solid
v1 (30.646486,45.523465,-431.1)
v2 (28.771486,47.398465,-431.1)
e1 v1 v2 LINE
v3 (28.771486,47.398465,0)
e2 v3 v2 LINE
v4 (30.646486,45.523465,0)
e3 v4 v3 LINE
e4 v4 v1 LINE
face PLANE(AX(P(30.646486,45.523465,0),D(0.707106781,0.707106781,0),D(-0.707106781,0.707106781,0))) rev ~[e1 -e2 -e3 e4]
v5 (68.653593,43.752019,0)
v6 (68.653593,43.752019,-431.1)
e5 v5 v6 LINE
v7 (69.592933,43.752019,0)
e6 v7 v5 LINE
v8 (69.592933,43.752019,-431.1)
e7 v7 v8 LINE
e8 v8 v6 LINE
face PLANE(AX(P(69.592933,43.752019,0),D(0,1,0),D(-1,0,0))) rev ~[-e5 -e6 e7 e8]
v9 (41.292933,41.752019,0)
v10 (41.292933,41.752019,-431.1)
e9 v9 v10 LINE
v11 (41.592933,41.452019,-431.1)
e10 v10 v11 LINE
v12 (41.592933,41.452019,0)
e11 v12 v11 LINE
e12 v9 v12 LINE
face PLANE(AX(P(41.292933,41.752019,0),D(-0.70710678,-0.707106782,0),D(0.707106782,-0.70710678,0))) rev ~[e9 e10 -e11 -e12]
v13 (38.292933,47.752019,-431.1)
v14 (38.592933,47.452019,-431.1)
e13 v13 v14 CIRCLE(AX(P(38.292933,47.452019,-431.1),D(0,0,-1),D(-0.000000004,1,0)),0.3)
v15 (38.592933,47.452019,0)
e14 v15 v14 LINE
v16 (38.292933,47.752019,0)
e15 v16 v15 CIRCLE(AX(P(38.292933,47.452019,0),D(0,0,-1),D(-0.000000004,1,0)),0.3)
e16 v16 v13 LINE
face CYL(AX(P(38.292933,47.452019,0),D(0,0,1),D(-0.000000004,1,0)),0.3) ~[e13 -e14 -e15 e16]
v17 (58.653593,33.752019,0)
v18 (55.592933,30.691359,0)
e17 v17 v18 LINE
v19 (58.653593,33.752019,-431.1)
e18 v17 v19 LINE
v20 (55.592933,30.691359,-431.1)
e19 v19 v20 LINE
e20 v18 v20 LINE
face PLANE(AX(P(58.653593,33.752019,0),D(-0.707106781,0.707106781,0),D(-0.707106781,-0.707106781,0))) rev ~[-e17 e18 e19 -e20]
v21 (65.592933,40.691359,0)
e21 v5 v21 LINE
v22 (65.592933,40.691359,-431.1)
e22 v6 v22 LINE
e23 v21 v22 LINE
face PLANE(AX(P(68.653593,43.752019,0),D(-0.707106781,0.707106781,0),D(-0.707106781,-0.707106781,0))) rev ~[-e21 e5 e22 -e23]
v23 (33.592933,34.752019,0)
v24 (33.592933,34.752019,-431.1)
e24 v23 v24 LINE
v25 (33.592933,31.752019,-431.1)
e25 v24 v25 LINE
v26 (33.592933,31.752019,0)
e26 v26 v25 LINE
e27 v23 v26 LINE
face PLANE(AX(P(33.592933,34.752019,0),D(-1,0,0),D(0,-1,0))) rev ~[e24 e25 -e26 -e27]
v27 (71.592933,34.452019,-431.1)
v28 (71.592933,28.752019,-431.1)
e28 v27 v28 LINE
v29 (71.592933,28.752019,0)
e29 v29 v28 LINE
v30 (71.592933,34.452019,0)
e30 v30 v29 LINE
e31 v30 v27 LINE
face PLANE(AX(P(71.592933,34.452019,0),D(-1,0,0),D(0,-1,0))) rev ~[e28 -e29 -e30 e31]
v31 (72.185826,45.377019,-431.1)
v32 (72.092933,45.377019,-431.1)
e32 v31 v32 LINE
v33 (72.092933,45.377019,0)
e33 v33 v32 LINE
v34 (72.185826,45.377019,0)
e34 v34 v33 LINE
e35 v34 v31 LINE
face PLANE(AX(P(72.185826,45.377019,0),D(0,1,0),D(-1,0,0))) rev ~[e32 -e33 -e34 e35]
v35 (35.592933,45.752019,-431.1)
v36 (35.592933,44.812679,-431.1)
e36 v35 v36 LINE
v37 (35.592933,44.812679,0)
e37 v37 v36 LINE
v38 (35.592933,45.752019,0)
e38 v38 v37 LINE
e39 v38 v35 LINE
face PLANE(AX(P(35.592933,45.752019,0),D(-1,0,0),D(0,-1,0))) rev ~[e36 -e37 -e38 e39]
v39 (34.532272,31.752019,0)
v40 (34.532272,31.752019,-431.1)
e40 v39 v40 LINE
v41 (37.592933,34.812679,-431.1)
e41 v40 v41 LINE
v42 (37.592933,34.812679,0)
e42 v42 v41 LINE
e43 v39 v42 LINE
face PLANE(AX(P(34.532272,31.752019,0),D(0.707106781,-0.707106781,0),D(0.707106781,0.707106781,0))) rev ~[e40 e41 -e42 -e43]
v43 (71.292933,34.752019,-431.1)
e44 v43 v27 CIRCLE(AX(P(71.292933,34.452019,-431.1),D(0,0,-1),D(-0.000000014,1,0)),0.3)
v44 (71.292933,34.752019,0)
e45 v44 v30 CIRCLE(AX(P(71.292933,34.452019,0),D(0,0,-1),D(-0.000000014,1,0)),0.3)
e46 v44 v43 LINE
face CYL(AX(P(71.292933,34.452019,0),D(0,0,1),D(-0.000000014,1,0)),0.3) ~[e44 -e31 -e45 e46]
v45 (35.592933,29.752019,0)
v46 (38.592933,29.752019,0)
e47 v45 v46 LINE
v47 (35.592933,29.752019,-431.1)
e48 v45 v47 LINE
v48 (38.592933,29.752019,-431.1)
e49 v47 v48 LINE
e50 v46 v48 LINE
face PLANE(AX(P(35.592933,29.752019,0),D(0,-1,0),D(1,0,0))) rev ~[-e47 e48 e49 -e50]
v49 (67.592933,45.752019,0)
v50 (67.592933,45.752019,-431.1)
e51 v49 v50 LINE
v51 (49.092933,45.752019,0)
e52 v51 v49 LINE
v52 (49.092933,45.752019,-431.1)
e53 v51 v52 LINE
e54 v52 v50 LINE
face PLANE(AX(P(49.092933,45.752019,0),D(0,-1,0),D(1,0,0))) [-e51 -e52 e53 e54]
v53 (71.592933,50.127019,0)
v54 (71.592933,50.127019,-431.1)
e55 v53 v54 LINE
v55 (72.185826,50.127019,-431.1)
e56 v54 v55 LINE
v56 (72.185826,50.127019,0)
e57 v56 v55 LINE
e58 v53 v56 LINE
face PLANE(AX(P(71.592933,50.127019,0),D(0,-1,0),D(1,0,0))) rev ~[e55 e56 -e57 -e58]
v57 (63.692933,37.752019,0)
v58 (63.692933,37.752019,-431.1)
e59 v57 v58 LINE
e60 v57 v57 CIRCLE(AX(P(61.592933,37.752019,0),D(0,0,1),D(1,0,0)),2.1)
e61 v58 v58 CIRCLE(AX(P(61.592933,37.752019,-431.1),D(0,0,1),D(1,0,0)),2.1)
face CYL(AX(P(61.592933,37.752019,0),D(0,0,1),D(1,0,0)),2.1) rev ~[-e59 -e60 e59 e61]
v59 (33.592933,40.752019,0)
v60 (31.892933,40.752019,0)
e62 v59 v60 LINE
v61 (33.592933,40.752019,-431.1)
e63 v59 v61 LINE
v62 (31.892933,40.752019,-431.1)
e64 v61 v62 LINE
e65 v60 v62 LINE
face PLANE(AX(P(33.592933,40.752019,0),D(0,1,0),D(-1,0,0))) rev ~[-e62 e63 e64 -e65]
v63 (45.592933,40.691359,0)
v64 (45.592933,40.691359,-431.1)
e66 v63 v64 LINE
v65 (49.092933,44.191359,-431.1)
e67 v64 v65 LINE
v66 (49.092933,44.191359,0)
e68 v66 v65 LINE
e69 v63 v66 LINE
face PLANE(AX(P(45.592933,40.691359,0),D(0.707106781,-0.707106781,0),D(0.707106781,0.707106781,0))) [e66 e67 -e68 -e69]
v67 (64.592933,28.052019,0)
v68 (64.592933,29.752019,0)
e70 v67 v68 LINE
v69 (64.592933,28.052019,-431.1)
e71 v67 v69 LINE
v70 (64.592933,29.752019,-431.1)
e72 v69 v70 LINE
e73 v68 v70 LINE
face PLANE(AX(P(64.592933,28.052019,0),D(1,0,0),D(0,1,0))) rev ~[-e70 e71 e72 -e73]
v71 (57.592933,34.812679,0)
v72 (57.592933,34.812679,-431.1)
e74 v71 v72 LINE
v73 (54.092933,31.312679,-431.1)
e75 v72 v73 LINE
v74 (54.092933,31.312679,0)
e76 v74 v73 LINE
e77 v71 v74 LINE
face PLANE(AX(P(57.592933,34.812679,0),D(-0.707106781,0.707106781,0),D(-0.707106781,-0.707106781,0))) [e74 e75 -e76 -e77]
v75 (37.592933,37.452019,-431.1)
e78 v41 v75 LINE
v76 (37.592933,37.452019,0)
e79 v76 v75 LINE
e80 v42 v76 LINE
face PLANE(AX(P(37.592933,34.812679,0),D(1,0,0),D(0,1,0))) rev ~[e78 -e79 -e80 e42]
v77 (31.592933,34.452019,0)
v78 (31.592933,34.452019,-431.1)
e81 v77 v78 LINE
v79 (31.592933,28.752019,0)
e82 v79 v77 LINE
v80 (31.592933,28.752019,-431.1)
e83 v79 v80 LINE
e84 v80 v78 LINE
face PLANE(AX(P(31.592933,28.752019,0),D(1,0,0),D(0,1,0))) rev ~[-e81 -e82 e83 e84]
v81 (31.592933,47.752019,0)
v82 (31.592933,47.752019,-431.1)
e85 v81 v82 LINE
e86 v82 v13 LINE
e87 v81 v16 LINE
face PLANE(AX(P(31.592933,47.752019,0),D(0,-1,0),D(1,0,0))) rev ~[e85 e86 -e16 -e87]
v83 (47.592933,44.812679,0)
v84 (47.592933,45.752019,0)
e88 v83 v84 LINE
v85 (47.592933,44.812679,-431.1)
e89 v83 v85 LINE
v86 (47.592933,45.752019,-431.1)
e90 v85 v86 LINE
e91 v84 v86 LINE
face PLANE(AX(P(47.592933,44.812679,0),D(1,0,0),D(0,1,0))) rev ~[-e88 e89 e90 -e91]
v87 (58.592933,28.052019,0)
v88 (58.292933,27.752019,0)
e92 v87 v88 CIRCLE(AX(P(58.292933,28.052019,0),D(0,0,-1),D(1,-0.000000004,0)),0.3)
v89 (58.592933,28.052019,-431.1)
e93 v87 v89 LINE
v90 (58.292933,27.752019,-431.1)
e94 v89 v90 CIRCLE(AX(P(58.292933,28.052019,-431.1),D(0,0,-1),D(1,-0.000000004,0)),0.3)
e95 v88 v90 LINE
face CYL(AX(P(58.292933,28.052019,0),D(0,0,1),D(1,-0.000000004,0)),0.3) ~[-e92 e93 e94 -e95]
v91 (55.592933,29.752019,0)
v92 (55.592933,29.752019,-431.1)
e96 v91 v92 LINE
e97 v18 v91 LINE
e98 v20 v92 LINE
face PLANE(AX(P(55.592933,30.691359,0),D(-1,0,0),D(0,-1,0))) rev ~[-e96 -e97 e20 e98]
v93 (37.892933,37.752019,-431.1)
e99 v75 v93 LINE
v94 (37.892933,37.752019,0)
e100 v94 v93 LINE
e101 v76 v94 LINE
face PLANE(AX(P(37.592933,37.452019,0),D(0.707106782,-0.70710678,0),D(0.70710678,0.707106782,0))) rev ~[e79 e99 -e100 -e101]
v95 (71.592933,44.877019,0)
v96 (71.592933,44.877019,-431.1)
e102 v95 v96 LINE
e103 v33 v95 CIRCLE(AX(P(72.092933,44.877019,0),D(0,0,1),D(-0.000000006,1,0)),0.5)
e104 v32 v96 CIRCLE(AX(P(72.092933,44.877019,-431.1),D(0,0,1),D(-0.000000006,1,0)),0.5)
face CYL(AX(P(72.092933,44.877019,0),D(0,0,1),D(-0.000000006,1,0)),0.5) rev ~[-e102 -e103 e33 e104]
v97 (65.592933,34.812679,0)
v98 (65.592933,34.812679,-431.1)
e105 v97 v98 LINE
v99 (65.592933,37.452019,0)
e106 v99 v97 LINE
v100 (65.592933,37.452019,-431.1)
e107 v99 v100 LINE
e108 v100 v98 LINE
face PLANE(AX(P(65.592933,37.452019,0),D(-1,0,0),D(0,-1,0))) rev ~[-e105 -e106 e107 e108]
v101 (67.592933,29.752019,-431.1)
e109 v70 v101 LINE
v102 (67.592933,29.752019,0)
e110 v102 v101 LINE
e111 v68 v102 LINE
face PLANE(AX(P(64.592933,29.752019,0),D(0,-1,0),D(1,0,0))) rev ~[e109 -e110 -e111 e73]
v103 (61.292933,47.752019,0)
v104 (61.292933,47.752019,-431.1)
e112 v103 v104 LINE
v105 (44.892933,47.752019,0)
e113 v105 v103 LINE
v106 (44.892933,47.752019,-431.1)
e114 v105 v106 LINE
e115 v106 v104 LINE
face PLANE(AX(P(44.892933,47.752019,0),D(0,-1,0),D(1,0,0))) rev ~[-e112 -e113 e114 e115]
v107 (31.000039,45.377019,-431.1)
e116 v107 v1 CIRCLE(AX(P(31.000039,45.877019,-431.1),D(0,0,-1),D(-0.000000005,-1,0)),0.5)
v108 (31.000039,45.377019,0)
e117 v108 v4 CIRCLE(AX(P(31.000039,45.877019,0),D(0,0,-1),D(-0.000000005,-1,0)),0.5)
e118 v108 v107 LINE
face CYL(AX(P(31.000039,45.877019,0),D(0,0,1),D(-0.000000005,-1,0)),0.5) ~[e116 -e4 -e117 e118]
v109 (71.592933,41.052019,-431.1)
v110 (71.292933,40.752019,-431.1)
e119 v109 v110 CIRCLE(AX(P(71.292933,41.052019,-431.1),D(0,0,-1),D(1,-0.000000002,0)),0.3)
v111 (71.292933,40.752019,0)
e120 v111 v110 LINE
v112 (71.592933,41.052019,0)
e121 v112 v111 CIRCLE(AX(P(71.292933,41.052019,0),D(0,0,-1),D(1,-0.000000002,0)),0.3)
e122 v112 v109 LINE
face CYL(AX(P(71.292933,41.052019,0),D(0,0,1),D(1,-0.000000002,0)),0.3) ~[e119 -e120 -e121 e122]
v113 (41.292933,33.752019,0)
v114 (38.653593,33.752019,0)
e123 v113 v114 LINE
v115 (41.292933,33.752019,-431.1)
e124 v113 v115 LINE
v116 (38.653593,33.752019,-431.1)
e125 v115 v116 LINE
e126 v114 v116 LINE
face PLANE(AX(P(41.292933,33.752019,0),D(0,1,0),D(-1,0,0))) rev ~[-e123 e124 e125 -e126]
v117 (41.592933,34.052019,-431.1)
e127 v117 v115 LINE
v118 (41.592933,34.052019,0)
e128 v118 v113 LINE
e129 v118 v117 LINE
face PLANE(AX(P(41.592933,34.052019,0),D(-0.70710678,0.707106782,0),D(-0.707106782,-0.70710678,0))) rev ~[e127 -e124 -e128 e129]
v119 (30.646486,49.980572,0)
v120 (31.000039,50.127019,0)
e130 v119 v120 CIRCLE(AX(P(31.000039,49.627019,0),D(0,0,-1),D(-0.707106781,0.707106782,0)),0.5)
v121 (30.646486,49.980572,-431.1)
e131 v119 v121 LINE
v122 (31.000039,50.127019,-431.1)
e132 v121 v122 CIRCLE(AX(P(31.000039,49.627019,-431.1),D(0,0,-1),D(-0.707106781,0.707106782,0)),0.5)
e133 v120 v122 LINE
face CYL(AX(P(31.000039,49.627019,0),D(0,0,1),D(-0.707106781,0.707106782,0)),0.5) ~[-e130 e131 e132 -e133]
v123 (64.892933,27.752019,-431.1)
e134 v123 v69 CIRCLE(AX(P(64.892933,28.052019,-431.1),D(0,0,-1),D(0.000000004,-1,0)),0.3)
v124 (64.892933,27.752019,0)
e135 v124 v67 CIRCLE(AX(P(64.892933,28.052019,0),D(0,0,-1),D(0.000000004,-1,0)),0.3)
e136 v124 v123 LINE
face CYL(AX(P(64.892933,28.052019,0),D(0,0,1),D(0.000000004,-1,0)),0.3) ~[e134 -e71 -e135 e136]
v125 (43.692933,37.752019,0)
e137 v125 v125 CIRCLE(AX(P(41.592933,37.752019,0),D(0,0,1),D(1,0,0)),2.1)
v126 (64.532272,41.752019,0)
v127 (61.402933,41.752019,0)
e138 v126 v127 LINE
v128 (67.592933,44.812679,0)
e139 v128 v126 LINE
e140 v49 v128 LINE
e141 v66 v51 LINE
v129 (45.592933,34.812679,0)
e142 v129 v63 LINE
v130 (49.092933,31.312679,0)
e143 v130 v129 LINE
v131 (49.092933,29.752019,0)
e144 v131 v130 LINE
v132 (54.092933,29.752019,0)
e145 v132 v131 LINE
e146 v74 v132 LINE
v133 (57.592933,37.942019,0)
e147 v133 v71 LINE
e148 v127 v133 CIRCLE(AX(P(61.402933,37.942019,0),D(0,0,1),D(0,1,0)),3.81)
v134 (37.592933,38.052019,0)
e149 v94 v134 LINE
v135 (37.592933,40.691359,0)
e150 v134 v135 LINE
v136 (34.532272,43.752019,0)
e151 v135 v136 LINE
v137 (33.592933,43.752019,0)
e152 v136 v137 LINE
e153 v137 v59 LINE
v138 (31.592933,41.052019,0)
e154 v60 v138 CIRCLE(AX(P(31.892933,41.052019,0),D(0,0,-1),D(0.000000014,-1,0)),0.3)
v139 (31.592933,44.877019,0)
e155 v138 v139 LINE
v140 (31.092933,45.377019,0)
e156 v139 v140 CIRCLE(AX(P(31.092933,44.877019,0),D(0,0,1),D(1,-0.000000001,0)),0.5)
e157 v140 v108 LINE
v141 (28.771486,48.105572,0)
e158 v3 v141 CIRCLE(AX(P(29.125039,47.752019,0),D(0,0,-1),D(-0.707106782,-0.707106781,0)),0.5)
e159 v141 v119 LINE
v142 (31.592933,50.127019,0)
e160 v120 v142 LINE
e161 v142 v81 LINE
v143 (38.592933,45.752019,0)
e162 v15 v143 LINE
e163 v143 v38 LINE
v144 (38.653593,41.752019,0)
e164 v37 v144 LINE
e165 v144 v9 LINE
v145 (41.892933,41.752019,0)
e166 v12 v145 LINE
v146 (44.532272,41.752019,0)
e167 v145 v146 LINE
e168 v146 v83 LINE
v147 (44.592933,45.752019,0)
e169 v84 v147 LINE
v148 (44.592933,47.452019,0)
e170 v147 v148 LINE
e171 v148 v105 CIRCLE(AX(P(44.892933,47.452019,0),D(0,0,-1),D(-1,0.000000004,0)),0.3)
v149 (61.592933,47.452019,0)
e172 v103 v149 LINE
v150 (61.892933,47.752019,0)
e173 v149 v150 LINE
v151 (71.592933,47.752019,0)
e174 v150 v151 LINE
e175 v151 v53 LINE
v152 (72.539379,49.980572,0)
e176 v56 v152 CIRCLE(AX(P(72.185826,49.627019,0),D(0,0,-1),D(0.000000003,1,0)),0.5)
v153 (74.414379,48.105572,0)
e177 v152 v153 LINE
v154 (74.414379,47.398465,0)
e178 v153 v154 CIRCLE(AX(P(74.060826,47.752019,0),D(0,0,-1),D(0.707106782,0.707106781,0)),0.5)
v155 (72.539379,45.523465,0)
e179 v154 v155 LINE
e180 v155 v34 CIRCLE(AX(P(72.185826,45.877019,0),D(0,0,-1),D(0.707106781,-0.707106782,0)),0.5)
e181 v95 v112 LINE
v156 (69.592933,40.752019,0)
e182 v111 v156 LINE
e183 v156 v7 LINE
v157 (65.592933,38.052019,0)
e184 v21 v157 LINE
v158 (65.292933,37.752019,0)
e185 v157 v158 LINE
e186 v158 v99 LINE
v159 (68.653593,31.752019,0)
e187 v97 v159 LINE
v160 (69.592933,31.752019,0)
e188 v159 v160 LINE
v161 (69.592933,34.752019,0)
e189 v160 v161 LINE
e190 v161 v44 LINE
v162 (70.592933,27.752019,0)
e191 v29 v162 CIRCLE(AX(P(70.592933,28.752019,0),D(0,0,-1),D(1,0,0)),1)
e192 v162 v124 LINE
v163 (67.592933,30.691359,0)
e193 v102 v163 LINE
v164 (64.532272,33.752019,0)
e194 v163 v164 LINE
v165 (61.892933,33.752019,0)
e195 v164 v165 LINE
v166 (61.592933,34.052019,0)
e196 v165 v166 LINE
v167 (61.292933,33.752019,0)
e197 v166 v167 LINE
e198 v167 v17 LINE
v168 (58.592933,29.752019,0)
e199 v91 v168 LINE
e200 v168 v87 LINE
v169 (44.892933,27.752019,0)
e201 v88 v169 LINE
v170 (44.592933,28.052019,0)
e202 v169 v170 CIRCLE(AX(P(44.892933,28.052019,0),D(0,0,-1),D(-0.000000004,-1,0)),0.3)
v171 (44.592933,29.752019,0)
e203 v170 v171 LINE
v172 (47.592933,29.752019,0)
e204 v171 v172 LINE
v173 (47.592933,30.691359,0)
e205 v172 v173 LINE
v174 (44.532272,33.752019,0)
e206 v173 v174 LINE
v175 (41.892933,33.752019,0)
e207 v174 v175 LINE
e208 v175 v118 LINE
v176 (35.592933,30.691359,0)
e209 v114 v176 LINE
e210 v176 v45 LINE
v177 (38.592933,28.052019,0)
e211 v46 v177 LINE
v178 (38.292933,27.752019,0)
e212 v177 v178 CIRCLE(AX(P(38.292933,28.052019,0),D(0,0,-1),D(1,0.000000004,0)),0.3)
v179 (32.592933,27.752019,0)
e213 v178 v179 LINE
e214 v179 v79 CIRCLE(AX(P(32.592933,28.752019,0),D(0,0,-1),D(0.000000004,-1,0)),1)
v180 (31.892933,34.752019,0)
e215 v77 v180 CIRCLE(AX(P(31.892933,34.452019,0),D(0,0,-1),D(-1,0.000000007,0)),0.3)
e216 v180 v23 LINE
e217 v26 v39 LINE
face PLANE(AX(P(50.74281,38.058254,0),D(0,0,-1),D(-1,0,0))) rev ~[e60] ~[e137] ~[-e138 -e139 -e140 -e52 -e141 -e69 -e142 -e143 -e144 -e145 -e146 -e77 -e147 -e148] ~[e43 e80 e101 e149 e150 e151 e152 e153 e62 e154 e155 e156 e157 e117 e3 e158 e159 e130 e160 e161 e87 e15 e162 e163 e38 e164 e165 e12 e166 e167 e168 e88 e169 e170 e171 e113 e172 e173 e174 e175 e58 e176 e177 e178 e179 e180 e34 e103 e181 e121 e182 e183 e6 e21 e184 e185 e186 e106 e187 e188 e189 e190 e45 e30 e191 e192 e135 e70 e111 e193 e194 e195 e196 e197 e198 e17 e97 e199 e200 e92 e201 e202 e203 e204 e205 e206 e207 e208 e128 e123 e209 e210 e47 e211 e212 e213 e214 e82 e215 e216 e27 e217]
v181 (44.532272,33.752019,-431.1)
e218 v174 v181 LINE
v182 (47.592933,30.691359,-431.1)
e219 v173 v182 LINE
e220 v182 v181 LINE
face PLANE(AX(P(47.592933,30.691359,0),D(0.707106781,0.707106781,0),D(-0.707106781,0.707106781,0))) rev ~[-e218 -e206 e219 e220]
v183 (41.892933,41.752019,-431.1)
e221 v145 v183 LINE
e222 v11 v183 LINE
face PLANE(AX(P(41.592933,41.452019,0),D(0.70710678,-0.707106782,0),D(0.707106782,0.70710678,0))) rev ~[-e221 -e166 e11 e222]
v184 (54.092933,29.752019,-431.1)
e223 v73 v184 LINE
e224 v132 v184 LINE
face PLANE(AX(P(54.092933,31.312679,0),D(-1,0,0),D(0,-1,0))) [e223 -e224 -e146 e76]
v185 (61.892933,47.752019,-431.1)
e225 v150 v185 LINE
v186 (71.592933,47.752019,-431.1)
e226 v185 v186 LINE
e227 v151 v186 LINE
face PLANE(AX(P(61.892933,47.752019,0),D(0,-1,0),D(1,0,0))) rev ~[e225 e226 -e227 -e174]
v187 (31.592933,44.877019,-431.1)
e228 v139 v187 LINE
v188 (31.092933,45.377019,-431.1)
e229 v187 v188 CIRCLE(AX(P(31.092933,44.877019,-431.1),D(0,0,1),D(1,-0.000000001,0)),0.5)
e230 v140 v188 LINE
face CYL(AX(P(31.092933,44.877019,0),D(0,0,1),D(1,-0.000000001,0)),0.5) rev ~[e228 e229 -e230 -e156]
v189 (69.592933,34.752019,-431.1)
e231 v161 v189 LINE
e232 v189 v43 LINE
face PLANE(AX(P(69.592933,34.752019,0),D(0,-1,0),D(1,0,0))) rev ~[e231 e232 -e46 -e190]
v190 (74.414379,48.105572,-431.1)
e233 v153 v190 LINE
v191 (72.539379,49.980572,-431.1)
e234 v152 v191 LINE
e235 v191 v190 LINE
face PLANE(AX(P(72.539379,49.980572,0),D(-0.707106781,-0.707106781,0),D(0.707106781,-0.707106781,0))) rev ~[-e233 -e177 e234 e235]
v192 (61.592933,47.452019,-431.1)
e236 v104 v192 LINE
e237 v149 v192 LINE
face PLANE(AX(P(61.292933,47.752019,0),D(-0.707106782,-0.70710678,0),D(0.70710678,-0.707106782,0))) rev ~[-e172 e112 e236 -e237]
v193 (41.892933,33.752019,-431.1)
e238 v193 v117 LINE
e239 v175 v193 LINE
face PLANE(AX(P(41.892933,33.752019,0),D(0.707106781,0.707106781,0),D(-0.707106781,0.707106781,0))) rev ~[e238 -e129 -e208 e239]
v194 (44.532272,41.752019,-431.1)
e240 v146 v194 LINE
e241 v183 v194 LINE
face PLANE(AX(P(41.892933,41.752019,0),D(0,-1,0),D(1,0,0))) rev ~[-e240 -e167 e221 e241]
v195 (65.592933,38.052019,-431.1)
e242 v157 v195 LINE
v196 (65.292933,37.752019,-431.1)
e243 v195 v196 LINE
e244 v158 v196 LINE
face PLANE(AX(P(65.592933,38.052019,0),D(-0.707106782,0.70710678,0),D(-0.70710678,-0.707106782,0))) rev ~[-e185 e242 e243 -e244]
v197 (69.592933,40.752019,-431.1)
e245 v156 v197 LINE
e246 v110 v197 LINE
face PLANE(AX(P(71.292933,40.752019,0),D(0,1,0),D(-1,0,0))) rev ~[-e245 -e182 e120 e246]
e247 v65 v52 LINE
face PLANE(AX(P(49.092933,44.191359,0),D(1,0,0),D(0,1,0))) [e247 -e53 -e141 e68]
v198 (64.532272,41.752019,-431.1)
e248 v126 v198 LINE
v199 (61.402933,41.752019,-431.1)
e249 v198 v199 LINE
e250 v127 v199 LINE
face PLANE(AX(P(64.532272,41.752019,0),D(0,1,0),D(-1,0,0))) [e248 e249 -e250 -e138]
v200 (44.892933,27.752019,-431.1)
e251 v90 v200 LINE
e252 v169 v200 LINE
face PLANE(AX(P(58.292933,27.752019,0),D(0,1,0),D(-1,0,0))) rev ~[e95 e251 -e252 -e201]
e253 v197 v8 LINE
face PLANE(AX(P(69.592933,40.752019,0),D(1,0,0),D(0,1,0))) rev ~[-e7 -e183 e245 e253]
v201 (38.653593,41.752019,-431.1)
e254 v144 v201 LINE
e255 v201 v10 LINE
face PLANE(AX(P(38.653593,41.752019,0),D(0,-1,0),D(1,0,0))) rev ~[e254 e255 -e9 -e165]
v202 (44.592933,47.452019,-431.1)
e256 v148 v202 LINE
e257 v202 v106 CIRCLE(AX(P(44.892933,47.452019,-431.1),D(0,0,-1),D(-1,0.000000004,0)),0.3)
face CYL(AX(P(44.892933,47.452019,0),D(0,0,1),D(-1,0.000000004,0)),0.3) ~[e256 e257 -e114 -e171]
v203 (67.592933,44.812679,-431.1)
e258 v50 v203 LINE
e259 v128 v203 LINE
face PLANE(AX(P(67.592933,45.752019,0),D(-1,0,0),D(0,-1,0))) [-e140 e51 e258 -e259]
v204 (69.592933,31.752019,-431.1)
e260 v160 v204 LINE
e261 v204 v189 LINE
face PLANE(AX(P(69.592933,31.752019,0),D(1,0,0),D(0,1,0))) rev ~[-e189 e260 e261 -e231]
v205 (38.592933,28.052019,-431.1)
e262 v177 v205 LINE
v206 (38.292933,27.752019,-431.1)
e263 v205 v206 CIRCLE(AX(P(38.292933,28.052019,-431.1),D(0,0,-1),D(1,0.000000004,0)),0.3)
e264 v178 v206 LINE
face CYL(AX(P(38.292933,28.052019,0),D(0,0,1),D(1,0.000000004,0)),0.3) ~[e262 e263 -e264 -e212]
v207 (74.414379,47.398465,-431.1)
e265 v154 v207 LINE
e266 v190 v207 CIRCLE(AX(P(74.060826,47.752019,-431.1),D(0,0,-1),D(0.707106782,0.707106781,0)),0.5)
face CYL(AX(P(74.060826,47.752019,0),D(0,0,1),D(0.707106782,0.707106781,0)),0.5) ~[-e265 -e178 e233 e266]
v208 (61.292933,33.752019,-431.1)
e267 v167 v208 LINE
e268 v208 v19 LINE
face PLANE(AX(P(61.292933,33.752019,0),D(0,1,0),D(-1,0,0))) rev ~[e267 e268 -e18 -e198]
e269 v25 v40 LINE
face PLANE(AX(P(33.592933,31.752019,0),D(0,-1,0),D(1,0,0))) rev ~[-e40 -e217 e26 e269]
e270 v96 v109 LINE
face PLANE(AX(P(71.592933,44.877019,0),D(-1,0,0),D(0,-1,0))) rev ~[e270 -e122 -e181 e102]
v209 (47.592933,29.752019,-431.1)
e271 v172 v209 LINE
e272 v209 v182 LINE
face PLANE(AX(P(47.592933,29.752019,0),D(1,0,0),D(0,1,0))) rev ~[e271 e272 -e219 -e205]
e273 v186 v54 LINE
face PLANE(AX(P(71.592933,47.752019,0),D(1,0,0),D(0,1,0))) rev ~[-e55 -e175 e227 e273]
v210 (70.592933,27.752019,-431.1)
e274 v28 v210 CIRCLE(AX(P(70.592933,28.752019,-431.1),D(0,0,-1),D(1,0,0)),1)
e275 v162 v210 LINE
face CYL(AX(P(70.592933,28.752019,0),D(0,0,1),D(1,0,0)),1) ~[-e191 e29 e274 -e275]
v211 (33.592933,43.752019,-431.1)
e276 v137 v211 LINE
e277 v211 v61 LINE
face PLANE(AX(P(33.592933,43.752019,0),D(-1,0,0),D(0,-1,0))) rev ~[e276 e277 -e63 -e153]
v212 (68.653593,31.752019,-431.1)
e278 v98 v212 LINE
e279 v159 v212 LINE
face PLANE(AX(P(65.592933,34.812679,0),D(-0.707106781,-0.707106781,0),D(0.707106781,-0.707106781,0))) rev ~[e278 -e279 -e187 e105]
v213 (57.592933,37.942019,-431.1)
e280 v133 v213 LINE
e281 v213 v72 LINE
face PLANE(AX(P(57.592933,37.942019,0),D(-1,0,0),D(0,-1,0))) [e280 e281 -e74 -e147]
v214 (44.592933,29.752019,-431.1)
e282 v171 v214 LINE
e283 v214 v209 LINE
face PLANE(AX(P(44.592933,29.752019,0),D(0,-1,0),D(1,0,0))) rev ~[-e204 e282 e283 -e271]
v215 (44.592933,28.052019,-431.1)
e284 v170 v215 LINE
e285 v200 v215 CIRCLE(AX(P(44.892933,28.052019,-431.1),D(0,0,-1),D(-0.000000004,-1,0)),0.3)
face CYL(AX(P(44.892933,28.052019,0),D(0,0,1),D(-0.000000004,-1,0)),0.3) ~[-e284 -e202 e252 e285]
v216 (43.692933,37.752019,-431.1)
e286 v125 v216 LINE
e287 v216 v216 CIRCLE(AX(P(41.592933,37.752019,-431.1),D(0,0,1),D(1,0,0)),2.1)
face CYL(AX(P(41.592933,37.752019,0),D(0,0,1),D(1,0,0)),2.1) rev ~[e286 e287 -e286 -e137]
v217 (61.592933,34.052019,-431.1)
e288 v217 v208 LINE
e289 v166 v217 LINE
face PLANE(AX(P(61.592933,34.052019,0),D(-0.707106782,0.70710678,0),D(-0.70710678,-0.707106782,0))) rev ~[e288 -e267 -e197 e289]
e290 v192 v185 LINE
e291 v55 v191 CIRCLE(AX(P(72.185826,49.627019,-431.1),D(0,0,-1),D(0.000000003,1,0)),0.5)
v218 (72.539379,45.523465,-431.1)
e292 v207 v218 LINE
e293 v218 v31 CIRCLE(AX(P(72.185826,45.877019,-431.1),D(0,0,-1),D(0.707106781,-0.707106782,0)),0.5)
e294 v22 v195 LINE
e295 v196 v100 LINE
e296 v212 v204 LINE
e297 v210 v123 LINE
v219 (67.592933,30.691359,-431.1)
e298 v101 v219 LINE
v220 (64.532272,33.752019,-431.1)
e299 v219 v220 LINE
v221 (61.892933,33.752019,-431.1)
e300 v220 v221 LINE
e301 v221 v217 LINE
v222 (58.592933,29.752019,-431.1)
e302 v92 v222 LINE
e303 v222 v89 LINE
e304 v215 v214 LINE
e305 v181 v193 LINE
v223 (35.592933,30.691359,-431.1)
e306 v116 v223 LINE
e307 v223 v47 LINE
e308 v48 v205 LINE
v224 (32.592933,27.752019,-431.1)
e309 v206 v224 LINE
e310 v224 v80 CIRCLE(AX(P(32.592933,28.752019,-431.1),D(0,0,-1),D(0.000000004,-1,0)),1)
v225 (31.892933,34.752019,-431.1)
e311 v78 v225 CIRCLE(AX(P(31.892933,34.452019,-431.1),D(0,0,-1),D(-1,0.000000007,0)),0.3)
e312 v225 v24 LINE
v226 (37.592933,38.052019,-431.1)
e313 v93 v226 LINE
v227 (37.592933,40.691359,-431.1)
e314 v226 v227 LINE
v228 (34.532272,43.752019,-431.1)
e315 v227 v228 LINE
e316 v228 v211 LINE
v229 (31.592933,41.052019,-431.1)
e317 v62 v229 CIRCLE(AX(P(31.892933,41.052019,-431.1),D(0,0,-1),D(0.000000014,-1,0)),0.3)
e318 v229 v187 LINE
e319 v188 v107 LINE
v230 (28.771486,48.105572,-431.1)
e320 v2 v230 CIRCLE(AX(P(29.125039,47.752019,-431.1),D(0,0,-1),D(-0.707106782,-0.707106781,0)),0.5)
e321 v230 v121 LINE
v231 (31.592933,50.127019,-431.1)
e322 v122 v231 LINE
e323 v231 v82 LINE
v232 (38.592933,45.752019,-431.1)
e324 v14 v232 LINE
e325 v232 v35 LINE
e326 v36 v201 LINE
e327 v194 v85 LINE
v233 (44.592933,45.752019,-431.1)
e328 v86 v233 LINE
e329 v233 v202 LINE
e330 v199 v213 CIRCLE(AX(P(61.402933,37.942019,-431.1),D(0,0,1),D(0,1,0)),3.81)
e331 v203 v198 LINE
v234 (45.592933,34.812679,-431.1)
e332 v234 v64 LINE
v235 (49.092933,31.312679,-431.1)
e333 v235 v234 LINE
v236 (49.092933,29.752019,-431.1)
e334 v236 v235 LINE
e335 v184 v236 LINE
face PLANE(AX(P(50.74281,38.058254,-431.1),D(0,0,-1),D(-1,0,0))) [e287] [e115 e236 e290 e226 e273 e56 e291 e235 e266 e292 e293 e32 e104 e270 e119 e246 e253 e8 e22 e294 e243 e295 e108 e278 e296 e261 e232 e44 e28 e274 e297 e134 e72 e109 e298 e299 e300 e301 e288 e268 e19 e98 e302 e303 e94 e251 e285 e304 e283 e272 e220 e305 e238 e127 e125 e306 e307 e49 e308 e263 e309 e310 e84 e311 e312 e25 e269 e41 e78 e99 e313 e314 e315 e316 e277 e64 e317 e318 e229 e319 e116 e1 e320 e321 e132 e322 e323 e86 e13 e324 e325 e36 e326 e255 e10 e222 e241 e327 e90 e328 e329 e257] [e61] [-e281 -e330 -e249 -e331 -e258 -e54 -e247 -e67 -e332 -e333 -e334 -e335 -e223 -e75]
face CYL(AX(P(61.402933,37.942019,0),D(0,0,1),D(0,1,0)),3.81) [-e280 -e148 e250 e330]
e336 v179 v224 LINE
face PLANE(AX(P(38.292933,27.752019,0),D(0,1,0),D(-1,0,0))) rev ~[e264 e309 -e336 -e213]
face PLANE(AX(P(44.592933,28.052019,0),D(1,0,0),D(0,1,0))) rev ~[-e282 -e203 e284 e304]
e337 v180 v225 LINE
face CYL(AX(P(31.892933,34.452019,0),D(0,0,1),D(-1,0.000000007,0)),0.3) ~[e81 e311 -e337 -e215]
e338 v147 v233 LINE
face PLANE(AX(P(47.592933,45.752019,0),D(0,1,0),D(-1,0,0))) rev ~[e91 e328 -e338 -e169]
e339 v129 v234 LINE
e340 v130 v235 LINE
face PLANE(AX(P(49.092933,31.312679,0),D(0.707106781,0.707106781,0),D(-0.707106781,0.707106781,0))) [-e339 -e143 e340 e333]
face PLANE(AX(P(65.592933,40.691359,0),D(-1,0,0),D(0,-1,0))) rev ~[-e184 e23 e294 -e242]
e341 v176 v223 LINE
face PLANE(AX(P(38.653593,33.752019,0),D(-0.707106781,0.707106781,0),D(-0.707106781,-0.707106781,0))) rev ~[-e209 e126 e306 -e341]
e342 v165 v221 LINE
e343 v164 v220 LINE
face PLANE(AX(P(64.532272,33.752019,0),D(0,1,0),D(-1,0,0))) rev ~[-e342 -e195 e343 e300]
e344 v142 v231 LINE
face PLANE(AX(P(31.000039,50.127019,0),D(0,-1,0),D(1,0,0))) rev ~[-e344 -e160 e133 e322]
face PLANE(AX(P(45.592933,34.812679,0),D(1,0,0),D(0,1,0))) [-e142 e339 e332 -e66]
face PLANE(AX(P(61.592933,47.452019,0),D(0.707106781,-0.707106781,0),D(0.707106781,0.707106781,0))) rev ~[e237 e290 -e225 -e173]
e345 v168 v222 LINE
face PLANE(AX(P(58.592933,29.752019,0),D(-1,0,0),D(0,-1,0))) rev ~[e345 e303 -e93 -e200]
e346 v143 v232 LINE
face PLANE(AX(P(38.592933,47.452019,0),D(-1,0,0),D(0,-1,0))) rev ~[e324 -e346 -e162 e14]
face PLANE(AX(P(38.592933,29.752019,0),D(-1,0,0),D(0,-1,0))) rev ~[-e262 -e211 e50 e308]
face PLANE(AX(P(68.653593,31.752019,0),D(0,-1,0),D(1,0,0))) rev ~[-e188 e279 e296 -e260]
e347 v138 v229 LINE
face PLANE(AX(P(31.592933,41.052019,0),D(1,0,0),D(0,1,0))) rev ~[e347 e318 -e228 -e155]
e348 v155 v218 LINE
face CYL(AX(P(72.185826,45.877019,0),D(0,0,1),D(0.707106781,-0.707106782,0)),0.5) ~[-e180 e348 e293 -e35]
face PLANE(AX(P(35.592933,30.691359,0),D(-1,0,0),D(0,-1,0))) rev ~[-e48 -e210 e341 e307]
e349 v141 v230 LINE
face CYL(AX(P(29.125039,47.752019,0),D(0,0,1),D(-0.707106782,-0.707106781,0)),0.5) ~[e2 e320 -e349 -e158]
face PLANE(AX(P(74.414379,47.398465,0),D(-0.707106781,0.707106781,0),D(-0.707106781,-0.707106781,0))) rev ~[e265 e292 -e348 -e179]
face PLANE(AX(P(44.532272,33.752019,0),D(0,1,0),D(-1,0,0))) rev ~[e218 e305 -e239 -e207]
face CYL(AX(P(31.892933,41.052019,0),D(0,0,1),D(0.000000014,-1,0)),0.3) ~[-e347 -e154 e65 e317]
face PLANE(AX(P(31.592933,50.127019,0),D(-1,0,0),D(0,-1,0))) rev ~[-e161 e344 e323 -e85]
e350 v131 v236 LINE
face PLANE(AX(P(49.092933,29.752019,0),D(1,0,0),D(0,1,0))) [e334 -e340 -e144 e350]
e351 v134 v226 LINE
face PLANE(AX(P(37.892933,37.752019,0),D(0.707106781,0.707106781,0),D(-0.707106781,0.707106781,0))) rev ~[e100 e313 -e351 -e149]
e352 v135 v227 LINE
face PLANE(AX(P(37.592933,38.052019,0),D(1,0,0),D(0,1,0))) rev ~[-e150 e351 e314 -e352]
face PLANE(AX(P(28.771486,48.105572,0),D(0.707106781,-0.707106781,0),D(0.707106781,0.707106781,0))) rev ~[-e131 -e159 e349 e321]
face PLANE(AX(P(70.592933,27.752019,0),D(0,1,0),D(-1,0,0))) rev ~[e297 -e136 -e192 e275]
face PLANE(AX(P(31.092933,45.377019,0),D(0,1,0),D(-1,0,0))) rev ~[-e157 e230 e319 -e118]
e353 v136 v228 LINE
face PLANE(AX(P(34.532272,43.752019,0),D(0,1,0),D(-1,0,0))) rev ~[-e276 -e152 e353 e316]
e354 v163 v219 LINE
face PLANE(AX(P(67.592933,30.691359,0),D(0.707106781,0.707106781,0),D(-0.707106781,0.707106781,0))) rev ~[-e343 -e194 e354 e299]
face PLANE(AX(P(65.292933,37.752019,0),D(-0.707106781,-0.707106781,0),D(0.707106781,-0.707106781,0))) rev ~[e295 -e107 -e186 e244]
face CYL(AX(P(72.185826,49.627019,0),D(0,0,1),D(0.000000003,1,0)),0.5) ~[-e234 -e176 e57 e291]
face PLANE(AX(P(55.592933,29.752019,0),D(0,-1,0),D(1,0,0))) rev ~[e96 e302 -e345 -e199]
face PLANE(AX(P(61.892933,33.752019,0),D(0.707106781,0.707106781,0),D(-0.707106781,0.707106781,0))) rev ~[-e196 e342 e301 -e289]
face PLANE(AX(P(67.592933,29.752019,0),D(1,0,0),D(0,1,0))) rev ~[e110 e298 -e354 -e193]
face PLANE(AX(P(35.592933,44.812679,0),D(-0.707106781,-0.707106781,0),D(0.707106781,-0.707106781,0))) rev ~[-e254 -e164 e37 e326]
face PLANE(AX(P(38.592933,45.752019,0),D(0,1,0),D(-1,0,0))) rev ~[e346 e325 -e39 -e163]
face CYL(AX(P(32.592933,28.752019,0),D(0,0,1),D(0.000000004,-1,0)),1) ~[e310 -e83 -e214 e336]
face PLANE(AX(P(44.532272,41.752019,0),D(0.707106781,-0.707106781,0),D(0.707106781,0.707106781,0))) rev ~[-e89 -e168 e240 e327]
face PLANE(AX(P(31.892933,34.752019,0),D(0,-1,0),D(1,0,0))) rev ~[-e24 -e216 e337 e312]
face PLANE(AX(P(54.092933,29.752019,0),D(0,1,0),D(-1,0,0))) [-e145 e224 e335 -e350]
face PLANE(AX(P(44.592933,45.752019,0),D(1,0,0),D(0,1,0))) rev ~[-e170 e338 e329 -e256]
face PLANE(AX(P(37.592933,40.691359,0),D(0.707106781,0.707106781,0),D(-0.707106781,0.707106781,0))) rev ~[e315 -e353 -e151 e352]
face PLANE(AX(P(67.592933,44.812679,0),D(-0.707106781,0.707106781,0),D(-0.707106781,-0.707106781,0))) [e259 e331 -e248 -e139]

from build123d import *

# Parameters (mm, degrees)
MODEL_R             = 2.100000001
BOSS_EXTRUDE1_DEPTH = 431.1


with BuildPart() as part:
    # Model → Boss-Extrude1 (new body)
    with BuildSketch(Plane.XY):
        with BuildLine():
            Line((28.771485975, 48.105572105), (30.646485975, 49.980572105))
            ThreePointArc((30.646485975, 49.980572105), (30.808697649, 50.08895848), (31.000039365, 50.127018713))
            Line((31.000039365, 50.127018713), (31.592932584, 50.127018713))
            Line((31.592932584, 50.127018713), (31.592932584, 47.752018713))
            Line((31.592932584, 47.752018713), (38.292932585, 47.752018713))
            ThreePointArc((38.292932585, 47.752018713), (38.505064619, 47.664150748), (38.592932584, 47.452018714))
            Line((38.592932584, 47.452018714), (38.592932584, 45.752018713))
            Line((38.592932584, 45.752018713), (35.592932585, 45.752018713))
            Line((35.592932585, 45.752018713), (35.592932585, 44.812678885))
            Line((35.592932585, 44.812678885), (38.653592756, 41.752018713))
            Line((38.653592756, 41.752018713), (41.292932583, 41.752018713))
            Line((41.292932583, 41.752018713), (41.592932584, 41.452018713))
            Line((41.592932584, 41.452018713), (41.892932586, 41.752018714))
            Line((41.892932586, 41.752018714), (44.532272412, 41.752018714))
            Line((44.532272412, 41.752018714), (47.592932584, 44.812678886))
            Line((47.592932584, 44.812678886), (47.592932584, 45.752018714))
            Line((47.592932584, 45.752018714), (44.592932584, 45.752018714))
            Line((44.592932584, 45.752018714), (44.592932584, 47.452018715))
            ThreePointArc((44.592932584, 47.452018715), (44.68080055, 47.664150749), (44.892932584, 47.752018715))
            Line((44.892932584, 47.752018715), (61.292932583, 47.752018715))
            Line((61.292932583, 47.752018715), (61.592932582, 47.452018715))
            Line((61.592932582, 47.452018715), (61.892932583, 47.752018716))
            Line((61.892932583, 47.752018716), (71.592932583, 47.752018716))
            Line((71.592932583, 47.752018716), (71.592932583, 50.127018711))
            Line((71.592932583, 50.127018711), (72.185825802, 50.127018711))
            ThreePointArc((72.185825802, 50.127018711), (72.377167518, 50.088958477), (72.539379192, 49.980572102))
            Line((72.539379192, 49.980572102), (74.414379192, 48.105572102))
            ThreePointArc((74.414379192, 48.105572102), (74.560825801, 47.752018712), (74.414379192, 47.398465322))
            Line((74.414379192, 47.398465322), (72.539379192, 45.523465322))
            ThreePointArc((72.539379192, 45.523465322), (72.377167518, 45.415078947), (72.185825802, 45.377018714))
            Line((72.185825802, 45.377018714), (72.092932582, 45.377018714))
            ThreePointArc((72.092932582, 45.377018714), (71.739379192, 45.230572103), (71.592932583, 44.877018713))
            Line((71.592932583, 44.877018713), (71.592932583, 41.052018712))
            ThreePointArc((71.592932583, 41.052018712), (71.505064617, 40.839886678), (71.292932581, 40.752018713))
            Line((71.292932581, 40.752018713), (69.592932583, 40.752018713))
            Line((69.592932583, 40.752018713), (69.592932583, 43.752018712))
            Line((69.592932583, 43.752018712), (68.653592755, 43.752018712))
            Line((68.653592755, 43.752018712), (65.592932583, 40.691358541))
            Line((65.592932583, 40.691358541), (65.592932583, 38.052018712))
            Line((65.592932583, 38.052018712), (65.292932584, 37.752018712))
            Line((65.292932584, 37.752018712), (65.592932583, 37.452018713))
            Line((65.592932583, 37.452018713), (65.592932583, 34.812678884))
            Line((65.592932583, 34.812678884), (68.653592755, 31.752018712))
            Line((68.653592755, 31.752018712), (69.592932583, 31.752018712))
            Line((69.592932583, 31.752018712), (69.592932583, 34.752018711))
            Line((69.592932583, 34.752018711), (71.292932581, 34.752018711))
            ThreePointArc((71.292932581, 34.752018711), (71.505064617, 34.664150747), (71.592932583, 34.452018712))
            Line((71.592932583, 34.452018712), (71.592932583, 28.75201871))
            ThreePointArc((71.592932583, 28.75201871), (71.300039364, 28.044911929), (70.592932582, 27.752018711))
            Line((70.592932582, 27.752018711), (64.892932582, 27.752018711))
            ThreePointArc((64.892932582, 27.752018711), (64.680800548, 27.839886676), (64.592932583, 28.05201871))
            Line((64.592932583, 28.05201871), (64.592932583, 29.752018711))
            Line((64.592932583, 29.752018711), (67.592932582, 29.752018711))
            Line((67.592932582, 29.752018711), (67.592932582, 30.69135854))
            Line((67.592932582, 30.69135854), (64.532272411, 33.752018711))
            Line((64.532272411, 33.752018711), (61.892932584, 33.752018711))
            Line((61.892932584, 33.752018711), (61.592932582, 34.052018713))
            Line((61.592932582, 34.052018713), (61.292932582, 33.752018712))
            Line((61.292932582, 33.752018712), (58.653592755, 33.752018712))
            Line((58.653592755, 33.752018712), (55.592932583, 30.691358541))
            Line((55.592932583, 30.691358541), (55.592932583, 29.752018713))
            Line((55.592932583, 29.752018713), (58.592932583, 29.752018713))
            Line((58.592932583, 29.752018713), (58.592932583, 28.052018712))
            ThreePointArc((58.592932583, 28.052018712), (58.505064617, 27.839886678), (58.292932583, 27.752018712))
            Line((58.292932583, 27.752018712), (44.892932584, 27.752018712))
            ThreePointArc((44.892932584, 27.752018712), (44.68080055, 27.839886678), (44.592932584, 28.052018712))
            Line((44.592932584, 28.052018712), (44.592932584, 29.752018713))
            Line((44.592932584, 29.752018713), (47.592932584, 29.752018713))
            Line((47.592932584, 29.752018713), (47.592932584, 30.691358541))
            Line((47.592932584, 30.691358541), (44.532272412, 33.752018712))
            Line((44.532272412, 33.752018712), (41.892932586, 33.752018712))
            Line((41.892932586, 33.752018712), (41.592932584, 34.052018714))
            Line((41.592932584, 34.052018714), (41.292932583, 33.752018714))
            Line((41.292932583, 33.752018714), (38.653592756, 33.752018714))
            Line((38.653592756, 33.752018714), (35.592932585, 30.691358542))
            Line((35.592932585, 30.691358542), (35.592932585, 29.752018714))
            Line((35.592932585, 29.752018714), (38.592932584, 29.752018714))
            Line((38.592932584, 29.752018714), (38.592932584, 28.052018713))
            ThreePointArc((38.592932584, 28.052018713), (38.505064619, 27.839886679), (38.292932585, 27.752018714))
            Line((38.292932585, 27.752018714), (32.592932585, 27.752018714))
            ThreePointArc((32.592932585, 27.752018714), (31.885825803, 28.044911931), (31.592932584, 28.752018713))
            Line((31.592932584, 28.752018713), (31.592932584, 34.452018715))
            ThreePointArc((31.592932584, 34.452018715), (31.68080055, 34.664150748), (31.892932583, 34.752018714))
            Line((31.892932583, 34.752018714), (33.592932584, 34.752018714))
            Line((33.592932584, 34.752018714), (33.592932584, 31.752018715))
            Line((33.592932584, 31.752018715), (34.532272412, 31.752018715))
            Line((34.532272412, 31.752018715), (37.592932584, 34.812678886))
            Line((37.592932584, 34.812678886), (37.592932584, 37.452018715))
            Line((37.592932584, 37.452018715), (37.892932583, 37.752018715))
            Line((37.892932583, 37.752018715), (37.592932584, 38.052018714))
            Line((37.592932584, 38.052018714), (37.592932584, 40.691358543))
            Line((37.592932584, 40.691358543), (34.532272412, 43.752018715))
            Line((34.532272412, 43.752018715), (33.592932584, 43.752018715))
            Line((33.592932584, 43.752018715), (33.592932584, 40.752018716))
            Line((33.592932584, 40.752018716), (31.892932586, 40.752018716))
            ThreePointArc((31.892932586, 40.752018716), (31.68080055, 40.83988668), (31.592932584, 41.052018715))
            Line((31.592932584, 41.052018715), (31.592932584, 44.877018715))
            ThreePointArc((31.592932584, 44.877018715), (31.446485975, 45.230572106), (31.092932585, 45.377018716))
            Line((31.092932585, 45.377018716), (31.000039365, 45.377018716))
            ThreePointArc((31.000039365, 45.377018716), (30.808697649, 45.41507895), (30.646485975, 45.523465324))
            Line((30.646485975, 45.523465324), (28.771485975, 47.398465325))
            ThreePointArc((28.771485975, 47.398465325), (28.625039366, 47.752018715), (28.771485975, 48.105572105))
        make_face()
        with Locations((61.592932582, 37.752018715)):
            Circle(MODEL_R, mode=Mode.SUBTRACT)
        with Locations((41.592932582, 37.752018715)):
            Circle(MODEL_R, mode=Mode.SUBTRACT)
        with BuildLine():
            Line((54.092932584, 29.752018715), (49.092932584, 29.752018715))
            Line((49.092932584, 29.752018715), (49.092932584, 31.312678886))
            Line((49.092932584, 31.312678886), (45.592932583, 34.812678886))
            Line((45.592932583, 34.812678886), (45.592932583, 40.691358543))
            Line((45.592932583, 40.691358543), (49.092932584, 44.191358544))
            Line((49.092932584, 44.191358544), (49.092932584, 45.752018714))
            Line((49.092932584, 45.752018714), (67.592932582, 45.752018714))
            Line((67.592932582, 45.752018714), (67.592932582, 44.812678887))
            Line((67.592932582, 44.812678887), (64.532272411, 41.752018716))
            Line((64.532272411, 41.752018716), (61.402932584, 41.752018716))
            ThreePointArc((61.402932584, 41.752018716), (58.708855747, 40.636095552), (57.592932584, 37.942018716))
            Line((57.592932584, 37.942018716), (57.592932584, 34.812678886))
            Line((57.592932584, 34.812678886), (54.092932584, 31.312678886))
            Line((54.092932584, 31.312678886), (54.092932584, 29.752018715))
        make_face(mode=Mode.SUBTRACT)
    extrude(amount=-BOSS_EXTRUDE1_DEPTH)


solid = part.part
